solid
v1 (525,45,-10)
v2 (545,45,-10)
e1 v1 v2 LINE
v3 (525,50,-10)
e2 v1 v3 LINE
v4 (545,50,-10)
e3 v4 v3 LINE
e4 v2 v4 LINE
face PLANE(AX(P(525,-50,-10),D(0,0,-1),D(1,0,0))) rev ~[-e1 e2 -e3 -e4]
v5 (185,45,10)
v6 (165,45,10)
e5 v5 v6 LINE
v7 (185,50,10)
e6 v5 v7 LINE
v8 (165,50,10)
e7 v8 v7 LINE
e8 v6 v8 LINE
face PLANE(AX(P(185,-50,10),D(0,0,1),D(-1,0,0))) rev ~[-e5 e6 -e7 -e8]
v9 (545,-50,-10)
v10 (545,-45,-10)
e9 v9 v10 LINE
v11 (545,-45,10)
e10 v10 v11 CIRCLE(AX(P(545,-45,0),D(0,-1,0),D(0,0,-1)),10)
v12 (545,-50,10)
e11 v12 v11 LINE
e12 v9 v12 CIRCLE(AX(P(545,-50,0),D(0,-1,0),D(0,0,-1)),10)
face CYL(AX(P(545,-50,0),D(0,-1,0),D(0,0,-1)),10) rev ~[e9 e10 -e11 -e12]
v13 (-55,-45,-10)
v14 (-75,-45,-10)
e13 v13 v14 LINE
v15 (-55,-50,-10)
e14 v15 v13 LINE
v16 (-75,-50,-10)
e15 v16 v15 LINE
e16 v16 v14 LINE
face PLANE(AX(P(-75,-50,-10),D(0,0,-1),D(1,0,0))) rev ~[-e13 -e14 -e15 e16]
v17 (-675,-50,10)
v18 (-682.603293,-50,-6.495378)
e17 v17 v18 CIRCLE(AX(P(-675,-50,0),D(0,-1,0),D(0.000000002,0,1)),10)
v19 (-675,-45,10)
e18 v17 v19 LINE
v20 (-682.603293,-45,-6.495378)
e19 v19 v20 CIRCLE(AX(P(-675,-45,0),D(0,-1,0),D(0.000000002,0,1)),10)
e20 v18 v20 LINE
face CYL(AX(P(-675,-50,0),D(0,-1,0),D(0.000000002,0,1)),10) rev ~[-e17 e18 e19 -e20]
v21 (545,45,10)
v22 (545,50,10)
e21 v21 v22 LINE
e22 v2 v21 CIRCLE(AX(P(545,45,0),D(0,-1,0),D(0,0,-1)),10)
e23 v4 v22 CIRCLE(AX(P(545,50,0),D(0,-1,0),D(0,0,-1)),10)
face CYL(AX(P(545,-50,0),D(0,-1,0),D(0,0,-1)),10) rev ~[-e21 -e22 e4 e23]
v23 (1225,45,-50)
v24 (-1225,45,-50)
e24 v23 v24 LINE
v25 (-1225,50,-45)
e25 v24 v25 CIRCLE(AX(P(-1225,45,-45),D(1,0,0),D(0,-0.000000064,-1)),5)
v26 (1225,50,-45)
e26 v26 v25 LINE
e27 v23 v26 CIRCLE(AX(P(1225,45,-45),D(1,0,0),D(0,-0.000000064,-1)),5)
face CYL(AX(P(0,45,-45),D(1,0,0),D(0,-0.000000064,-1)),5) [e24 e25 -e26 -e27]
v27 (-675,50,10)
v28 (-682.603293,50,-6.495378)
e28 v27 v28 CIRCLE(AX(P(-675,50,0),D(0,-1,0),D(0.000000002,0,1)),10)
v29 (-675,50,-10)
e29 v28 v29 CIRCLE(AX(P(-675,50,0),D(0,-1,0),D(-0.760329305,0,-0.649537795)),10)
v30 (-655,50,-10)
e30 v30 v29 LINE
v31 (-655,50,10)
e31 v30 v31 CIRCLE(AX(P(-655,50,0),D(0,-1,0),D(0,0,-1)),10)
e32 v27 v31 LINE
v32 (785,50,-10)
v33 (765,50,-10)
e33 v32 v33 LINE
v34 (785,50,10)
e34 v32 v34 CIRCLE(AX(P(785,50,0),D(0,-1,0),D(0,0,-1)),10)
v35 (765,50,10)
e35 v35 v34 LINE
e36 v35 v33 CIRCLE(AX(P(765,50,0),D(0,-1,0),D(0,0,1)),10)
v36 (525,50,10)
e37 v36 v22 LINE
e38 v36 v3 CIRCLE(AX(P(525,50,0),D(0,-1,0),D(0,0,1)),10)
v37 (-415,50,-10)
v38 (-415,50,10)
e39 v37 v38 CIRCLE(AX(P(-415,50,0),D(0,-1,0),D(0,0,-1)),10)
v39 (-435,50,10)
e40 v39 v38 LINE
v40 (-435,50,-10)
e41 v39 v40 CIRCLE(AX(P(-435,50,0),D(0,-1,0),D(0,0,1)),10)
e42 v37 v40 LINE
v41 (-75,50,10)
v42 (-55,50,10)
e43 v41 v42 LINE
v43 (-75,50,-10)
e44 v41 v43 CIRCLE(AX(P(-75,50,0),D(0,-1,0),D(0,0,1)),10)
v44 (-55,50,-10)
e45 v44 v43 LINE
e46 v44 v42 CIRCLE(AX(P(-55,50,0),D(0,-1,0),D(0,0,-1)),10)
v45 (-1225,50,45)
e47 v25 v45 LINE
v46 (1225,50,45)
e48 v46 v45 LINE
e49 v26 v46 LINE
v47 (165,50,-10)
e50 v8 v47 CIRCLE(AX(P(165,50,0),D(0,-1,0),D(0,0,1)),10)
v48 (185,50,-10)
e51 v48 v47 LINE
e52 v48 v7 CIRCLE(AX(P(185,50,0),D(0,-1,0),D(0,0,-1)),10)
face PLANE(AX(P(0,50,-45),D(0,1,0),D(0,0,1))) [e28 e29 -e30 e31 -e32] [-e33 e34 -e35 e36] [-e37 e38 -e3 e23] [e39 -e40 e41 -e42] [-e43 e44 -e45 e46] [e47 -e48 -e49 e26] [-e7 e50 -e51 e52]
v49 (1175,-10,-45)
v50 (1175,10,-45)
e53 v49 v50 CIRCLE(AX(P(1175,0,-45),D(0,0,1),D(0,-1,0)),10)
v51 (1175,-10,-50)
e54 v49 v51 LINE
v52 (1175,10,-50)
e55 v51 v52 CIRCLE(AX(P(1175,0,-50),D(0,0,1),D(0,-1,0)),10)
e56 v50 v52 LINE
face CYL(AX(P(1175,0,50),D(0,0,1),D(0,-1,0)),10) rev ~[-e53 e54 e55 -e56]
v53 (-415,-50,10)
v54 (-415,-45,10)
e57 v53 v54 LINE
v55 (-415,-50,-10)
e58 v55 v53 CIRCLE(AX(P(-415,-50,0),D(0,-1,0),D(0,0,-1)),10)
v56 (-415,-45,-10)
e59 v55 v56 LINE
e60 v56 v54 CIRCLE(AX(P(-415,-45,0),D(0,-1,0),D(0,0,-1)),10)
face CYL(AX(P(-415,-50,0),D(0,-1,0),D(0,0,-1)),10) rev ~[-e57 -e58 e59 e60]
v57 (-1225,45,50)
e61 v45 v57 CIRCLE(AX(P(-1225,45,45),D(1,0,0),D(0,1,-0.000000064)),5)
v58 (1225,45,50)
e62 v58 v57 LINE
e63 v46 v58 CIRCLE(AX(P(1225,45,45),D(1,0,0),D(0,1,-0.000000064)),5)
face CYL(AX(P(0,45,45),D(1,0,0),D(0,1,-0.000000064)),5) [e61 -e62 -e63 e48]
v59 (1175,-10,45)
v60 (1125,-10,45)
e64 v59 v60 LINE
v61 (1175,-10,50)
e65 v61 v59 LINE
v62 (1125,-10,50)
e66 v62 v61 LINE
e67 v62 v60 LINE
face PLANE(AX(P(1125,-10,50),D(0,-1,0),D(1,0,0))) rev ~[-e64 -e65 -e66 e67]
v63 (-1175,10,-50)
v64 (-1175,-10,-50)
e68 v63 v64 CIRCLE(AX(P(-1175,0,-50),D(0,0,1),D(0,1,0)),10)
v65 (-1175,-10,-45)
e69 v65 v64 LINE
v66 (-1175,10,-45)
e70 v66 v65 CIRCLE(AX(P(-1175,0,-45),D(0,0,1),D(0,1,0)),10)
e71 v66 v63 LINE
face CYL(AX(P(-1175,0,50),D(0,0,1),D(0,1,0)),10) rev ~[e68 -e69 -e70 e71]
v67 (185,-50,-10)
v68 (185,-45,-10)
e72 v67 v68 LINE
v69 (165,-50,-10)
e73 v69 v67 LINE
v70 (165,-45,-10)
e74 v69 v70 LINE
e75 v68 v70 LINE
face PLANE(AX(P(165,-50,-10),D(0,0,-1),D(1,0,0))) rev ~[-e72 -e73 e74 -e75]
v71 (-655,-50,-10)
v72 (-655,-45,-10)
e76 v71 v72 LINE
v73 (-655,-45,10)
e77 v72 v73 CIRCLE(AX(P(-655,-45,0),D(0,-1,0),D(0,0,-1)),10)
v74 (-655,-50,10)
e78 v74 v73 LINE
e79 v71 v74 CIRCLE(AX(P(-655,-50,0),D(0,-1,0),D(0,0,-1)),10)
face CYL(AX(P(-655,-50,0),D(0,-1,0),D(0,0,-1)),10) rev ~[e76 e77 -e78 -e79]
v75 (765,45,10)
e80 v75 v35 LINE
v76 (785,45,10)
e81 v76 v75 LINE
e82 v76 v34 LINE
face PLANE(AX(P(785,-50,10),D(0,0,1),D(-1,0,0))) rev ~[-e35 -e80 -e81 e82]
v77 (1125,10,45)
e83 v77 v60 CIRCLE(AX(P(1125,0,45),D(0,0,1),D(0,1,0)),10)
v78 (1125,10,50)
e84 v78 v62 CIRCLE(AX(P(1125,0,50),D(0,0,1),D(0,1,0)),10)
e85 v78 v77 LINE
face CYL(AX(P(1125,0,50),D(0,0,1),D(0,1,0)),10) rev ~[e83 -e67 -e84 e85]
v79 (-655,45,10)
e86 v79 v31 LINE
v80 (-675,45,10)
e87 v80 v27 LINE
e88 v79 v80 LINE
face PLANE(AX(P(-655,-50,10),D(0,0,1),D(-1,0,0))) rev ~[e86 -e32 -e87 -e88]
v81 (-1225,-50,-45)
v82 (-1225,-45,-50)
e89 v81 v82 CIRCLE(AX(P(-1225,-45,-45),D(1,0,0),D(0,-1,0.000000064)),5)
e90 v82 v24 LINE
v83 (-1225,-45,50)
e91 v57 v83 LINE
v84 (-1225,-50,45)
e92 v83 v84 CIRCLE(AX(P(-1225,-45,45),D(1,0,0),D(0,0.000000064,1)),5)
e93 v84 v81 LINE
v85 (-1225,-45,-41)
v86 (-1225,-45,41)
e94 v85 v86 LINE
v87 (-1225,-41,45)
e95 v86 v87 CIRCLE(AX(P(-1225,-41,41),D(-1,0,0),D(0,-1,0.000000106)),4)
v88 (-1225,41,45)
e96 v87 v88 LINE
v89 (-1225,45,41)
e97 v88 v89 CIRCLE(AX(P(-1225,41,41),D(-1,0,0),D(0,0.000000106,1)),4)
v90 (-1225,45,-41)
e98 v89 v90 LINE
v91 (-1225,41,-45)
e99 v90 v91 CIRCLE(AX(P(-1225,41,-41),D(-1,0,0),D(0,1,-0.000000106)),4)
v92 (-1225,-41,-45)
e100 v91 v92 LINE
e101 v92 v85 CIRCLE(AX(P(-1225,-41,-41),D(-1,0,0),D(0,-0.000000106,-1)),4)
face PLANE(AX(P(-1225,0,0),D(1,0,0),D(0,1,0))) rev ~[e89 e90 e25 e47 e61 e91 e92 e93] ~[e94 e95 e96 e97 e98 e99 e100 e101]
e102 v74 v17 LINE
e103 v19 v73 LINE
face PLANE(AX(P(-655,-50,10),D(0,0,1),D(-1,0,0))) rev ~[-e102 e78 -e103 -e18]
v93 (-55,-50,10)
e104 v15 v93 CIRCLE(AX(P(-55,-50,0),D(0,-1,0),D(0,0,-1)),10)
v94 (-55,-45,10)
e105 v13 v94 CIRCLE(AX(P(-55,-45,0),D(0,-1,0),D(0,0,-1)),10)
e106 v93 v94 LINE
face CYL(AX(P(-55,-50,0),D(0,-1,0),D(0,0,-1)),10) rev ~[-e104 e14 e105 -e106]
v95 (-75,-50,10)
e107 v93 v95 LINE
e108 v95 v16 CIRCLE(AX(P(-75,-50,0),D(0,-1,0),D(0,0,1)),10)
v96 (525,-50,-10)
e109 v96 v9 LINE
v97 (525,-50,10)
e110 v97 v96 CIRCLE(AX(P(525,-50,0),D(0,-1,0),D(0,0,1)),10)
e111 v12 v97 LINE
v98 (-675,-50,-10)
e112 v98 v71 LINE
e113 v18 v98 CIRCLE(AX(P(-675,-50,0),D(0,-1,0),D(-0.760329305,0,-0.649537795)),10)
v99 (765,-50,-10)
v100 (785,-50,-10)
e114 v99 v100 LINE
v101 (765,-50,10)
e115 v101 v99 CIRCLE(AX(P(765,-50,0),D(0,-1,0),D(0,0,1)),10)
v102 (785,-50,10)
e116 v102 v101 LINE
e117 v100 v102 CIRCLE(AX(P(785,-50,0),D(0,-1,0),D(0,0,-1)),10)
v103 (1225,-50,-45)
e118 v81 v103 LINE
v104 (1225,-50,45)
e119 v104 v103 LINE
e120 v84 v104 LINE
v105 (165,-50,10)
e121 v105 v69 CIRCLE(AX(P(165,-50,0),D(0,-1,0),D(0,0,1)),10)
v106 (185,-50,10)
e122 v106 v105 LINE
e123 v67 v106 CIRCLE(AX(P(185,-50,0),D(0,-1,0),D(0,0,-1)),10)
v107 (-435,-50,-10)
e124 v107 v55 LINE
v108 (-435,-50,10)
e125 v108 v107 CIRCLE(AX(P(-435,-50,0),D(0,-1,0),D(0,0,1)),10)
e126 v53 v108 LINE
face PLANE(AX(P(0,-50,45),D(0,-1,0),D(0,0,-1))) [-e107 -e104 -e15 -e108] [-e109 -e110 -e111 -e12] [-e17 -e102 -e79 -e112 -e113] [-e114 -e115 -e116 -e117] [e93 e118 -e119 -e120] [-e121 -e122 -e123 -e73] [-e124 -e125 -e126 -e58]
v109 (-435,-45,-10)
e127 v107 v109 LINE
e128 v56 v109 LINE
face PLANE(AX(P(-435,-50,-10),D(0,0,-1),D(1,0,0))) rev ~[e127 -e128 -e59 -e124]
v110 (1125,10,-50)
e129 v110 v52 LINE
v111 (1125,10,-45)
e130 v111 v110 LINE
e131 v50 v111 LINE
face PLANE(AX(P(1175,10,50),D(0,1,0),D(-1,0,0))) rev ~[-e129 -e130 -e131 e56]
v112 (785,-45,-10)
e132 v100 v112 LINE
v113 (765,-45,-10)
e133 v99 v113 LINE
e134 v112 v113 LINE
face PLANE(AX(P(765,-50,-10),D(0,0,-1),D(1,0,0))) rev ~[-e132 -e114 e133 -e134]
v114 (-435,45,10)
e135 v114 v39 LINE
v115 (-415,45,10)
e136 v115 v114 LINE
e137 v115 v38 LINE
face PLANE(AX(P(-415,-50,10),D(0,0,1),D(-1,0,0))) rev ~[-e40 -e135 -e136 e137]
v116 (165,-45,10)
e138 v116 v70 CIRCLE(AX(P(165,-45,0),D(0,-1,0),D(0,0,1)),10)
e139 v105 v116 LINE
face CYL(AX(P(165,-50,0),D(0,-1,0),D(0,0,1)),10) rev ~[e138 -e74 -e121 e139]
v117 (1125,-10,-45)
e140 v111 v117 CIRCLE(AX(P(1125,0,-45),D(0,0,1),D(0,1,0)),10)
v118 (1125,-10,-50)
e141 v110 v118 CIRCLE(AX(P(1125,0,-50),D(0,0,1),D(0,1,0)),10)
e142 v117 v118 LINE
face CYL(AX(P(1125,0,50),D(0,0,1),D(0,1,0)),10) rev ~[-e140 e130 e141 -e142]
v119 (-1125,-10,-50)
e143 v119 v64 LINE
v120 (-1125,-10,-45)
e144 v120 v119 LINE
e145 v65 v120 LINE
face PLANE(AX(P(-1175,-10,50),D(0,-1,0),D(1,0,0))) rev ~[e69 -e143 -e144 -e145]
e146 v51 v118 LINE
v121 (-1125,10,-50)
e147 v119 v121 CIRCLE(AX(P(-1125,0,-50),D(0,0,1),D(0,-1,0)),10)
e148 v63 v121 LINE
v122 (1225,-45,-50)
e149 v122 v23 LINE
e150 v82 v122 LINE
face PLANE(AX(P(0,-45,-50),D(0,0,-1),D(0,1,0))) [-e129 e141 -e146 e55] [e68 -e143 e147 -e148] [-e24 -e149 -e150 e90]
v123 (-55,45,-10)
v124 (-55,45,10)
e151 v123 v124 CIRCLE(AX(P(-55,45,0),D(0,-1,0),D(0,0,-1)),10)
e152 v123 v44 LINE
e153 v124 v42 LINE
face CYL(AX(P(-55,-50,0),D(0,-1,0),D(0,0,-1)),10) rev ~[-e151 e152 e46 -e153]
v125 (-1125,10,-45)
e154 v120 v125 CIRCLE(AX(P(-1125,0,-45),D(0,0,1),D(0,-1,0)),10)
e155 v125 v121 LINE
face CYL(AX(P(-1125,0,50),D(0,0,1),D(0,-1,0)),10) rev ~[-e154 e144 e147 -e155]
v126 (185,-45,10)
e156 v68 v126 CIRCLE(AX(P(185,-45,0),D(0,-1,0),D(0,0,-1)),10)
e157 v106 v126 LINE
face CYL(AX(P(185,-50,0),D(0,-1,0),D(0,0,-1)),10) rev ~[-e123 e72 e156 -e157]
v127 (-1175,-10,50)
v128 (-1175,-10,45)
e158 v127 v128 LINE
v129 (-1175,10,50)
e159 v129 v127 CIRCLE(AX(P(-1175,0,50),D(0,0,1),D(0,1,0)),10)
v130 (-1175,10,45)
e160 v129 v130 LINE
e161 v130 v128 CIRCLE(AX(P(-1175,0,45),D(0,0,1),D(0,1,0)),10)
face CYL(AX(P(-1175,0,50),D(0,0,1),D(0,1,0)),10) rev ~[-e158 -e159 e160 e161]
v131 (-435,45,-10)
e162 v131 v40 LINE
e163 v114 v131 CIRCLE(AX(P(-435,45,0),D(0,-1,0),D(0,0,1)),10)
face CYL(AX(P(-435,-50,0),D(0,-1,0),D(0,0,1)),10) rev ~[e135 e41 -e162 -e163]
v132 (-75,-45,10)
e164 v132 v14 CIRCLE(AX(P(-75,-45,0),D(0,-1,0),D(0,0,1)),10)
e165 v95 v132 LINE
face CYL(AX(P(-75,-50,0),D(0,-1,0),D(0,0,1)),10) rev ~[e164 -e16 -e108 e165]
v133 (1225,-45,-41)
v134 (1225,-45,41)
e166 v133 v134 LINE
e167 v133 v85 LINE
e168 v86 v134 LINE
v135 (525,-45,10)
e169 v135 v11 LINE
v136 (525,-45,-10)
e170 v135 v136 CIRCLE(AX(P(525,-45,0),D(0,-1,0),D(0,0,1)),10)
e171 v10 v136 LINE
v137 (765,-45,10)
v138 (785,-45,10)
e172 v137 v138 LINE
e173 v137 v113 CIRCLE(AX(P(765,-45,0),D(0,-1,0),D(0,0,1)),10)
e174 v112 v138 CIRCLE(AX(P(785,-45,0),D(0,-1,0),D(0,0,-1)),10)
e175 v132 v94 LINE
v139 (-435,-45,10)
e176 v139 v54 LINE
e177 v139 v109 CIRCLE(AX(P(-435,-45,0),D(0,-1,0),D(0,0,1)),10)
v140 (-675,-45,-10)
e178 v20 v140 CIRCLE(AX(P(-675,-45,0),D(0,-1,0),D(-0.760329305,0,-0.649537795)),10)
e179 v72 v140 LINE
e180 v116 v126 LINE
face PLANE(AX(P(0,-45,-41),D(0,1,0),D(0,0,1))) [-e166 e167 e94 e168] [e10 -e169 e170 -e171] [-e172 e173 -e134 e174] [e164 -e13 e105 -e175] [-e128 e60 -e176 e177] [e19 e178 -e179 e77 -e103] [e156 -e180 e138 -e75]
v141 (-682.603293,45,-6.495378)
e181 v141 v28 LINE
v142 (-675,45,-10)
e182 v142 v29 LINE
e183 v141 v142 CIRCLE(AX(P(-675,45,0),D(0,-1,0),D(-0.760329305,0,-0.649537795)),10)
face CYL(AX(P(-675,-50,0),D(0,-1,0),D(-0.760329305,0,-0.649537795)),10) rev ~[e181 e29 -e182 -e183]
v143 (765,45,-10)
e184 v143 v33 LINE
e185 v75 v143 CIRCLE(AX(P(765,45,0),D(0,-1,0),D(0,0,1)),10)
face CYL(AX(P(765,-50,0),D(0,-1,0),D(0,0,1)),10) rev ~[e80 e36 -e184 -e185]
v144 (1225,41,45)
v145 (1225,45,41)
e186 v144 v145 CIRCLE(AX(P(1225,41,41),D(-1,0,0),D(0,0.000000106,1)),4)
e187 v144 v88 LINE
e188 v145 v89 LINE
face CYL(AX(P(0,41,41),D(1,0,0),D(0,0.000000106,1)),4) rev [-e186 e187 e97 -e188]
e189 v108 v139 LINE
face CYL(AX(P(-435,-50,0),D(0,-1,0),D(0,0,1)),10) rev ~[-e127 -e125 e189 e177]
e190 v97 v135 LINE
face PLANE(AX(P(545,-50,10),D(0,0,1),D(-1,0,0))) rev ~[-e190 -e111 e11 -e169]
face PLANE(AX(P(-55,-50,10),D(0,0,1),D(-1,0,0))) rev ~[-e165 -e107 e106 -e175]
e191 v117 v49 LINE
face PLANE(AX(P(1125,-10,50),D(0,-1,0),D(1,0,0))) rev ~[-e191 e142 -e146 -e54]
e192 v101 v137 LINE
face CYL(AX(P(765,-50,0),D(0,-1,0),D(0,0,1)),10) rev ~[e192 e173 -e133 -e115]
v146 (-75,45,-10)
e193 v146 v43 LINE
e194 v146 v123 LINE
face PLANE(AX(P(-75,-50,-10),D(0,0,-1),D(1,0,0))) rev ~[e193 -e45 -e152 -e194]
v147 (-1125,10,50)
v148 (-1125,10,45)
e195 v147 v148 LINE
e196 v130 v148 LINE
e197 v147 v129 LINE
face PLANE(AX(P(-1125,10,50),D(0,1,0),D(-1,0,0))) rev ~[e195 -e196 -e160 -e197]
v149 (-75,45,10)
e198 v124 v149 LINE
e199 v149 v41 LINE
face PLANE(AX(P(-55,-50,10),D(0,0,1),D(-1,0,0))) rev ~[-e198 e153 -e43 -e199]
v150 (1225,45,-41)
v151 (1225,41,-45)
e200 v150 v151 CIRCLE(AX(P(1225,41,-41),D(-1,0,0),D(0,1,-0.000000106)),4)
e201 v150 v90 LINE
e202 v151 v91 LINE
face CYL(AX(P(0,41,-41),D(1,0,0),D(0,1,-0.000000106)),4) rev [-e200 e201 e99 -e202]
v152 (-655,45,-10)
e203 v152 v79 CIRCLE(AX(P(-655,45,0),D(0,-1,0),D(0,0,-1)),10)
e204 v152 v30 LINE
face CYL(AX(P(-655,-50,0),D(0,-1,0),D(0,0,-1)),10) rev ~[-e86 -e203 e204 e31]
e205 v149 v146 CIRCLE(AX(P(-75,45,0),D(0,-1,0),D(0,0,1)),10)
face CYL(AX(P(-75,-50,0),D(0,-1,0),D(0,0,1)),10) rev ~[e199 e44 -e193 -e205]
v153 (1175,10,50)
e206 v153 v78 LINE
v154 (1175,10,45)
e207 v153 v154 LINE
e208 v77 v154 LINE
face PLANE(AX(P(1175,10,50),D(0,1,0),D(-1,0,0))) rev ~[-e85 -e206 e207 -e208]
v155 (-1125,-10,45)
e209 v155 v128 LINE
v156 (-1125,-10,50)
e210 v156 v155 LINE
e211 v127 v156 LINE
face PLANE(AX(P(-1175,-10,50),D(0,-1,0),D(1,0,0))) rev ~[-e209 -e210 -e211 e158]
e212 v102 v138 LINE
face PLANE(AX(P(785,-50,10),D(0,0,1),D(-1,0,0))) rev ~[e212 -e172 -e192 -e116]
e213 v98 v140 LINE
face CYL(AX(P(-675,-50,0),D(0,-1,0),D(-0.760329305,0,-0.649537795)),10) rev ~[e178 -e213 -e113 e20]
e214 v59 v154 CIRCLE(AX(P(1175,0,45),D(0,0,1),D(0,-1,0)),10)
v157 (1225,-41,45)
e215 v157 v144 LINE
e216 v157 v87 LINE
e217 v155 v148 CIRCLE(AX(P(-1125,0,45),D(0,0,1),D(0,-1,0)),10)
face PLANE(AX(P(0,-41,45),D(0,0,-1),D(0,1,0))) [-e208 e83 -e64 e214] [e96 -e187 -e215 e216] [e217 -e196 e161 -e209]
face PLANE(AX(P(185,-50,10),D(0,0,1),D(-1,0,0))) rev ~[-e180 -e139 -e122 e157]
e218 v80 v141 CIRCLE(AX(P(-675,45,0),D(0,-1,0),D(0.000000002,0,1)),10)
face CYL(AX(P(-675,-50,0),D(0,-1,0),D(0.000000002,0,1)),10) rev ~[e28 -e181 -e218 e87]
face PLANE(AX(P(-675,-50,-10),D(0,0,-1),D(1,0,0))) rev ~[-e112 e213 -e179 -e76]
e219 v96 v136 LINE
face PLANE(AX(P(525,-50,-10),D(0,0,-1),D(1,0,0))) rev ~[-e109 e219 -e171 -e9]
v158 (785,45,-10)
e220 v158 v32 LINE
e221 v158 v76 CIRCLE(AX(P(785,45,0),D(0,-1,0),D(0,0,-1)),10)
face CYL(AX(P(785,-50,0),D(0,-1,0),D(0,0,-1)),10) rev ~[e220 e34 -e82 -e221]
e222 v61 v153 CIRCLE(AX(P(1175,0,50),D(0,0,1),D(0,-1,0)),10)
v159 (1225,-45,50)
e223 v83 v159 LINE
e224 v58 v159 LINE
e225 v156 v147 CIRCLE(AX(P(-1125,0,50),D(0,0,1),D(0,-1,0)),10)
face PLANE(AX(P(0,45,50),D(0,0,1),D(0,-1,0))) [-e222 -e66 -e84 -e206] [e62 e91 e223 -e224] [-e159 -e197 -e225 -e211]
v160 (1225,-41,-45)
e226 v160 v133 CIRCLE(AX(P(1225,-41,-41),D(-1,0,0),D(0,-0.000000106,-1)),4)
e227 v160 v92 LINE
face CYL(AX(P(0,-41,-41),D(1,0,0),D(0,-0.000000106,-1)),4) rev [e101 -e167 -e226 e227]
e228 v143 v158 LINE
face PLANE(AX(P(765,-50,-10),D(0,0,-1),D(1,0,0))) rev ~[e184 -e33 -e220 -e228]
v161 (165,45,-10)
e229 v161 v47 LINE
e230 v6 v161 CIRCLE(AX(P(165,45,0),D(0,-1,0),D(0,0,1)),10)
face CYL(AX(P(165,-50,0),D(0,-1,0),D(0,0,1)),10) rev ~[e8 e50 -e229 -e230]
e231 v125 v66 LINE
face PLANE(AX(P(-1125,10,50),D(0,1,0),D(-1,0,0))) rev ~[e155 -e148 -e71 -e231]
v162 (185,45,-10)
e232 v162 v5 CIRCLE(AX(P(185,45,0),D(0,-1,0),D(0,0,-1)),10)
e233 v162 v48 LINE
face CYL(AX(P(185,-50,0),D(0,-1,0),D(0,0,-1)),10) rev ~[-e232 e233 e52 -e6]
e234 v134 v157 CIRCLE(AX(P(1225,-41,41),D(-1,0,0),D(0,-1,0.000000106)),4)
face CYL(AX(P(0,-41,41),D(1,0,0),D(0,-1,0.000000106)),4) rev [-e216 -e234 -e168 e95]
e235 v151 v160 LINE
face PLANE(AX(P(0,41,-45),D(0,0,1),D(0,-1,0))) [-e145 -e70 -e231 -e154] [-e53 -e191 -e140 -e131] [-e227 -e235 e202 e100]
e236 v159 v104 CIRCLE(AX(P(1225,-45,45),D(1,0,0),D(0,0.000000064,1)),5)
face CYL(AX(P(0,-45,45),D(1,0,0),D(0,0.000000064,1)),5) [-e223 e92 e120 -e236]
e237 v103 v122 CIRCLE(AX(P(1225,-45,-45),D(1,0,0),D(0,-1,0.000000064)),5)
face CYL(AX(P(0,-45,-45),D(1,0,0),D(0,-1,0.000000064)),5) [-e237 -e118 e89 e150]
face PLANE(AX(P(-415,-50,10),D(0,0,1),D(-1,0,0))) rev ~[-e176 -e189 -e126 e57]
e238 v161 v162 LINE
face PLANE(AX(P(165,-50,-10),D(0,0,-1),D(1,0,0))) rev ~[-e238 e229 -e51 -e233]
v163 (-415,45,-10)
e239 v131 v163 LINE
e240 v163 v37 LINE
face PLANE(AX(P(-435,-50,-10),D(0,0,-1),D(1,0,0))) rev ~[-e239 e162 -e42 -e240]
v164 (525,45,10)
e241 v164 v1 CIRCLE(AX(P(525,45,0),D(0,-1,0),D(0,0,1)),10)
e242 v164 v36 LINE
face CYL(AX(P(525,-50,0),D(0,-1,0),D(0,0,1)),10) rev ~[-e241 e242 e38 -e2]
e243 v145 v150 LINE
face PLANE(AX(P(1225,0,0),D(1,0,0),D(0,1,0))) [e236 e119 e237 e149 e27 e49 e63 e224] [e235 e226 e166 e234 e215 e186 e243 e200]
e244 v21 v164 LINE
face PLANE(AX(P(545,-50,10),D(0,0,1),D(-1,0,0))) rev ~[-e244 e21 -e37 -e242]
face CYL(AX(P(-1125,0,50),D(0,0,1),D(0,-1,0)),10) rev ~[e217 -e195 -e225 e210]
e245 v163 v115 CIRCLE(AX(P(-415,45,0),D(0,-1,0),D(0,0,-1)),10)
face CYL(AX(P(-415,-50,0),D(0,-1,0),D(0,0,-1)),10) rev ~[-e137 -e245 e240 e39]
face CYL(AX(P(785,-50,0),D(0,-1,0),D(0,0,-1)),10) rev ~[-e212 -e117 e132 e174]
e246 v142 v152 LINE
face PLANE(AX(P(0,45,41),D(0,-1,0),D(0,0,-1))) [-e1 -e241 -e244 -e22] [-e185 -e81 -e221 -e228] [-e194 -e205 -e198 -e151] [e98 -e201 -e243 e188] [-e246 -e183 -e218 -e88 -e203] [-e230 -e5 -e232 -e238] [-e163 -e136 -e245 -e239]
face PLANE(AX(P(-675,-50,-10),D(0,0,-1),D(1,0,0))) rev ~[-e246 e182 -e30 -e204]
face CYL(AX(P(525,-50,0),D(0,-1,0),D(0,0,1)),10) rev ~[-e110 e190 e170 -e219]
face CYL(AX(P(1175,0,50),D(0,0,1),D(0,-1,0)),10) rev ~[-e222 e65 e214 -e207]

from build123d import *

# Parameters (mm, degrees)
F1_DEPTH = 1225
F3_DEPTH = 100.001
F5_DEPTH = 100.001


with BuildPart() as f1:
    # F0 (on Right) → F1 (new body, symmetric)
    with BuildSketch(Plane.YZ):
        with BuildLine():
            Line((45, 50), (-45, 50))
            ThreePointArc((-45, 50), (-48.535534, 48.535534), (-50, 45))
            Line((-50, 45), (-50, -45))
            ThreePointArc((-50, -45), (-48.535534, -48.535534), (-45, -50))
            Line((-45, -50), (45, -50))
            ThreePointArc((45, -50), (48.535534, -48.535534), (50, -45))
            Line((50, -45), (50, 45))
            ThreePointArc((50, 45), (48.535534, 48.535534), (45, 50))
        make_face()
        with BuildLine():
            ThreePointArc((-45, 41), (-43.828427, 43.828427), (-41, 45))
            Line((-41, 45), (41, 45))
            ThreePointArc((41, 45), (43.828427, 43.828427), (45, 41))
            Line((45, 41), (45, -41))
            ThreePointArc((45, -41), (43.828427, -43.828427), (41, -45))
            Line((41, -45), (-41, -45))
            ThreePointArc((-41, -45), (-43.828427, -43.828427), (-45, -41))
            Line((-45, -41), (-45, 41))
        make_face(mode=Mode.SUBTRACT)
    extrude(amount=F1_DEPTH, both=True)

    # F2 (on face) → F3 (cut, through all)
    with BuildSketch(Plane.XZ.offset(50)):
        with BuildLine():
            ThreePointArc((-675, 10), (-684.081679, 4.186061), (-682.603293, -6.495378))
            ThreePointArc((-682.603293, -6.495378), (-679.186061, -9.081679), (-675, -10))
            Line((-675, -10), (-655, -10))
            ThreePointArc((-655, -10), (-645, 0), (-655, 10))
            Line((-655, 10), (-675, 10))
        make_face()
        with BuildLine():
            Line((-415, 10), (-435, 10))
            ThreePointArc((-435, 10), (-445, 0), (-435, -10))
            Line((-435, -10), (-415, -10))
            ThreePointArc((-415, -10), (-405, 0), (-415, 10))
        make_face()
        with BuildLine():
            Line((-55, 10), (-75, 10))
            ThreePointArc((-75, 10), (-85, 0), (-75, -10))
            Line((-75, -10), (-55, -10))
            ThreePointArc((-55, -10), (-45, 0), (-55, 10))
        make_face()
        with BuildLine():
            Line((165, -10), (185, -10))
            ThreePointArc((185, -10), (195, 0), (185, 10))
            Line((185, 10), (165, 10))
            ThreePointArc((165, 10), (155, 0), (165, -10))
        make_face()
        with BuildLine():
            Line((545, 10), (525, 10))
            ThreePointArc((525, 10), (515, 0), (525, -10))
            Line((525, -10), (545, -10))
            ThreePointArc((545, -10), (555, 0), (545, 10))
        make_face()
        with BuildLine():
            Line((785, 10), (765, 10))
            ThreePointArc((765, 10), (755, 0), (765, -10))
            Line((765, -10), (785, -10))
            ThreePointArc((785, -10), (795, 0), (785, 10))
        make_face()
    extrude(amount=-F3_DEPTH, mode=Mode.SUBTRACT)

    # F4 (on face) → F5 (cut, through all)
    with BuildSketch(Plane.XY.offset(50)):
        with BuildLine():
            Line((-1125, 10), (-1175, 10))
            ThreePointArc((-1175, 10), (-1185, 0), (-1175, -10))
            Line((-1175, -10), (-1125, -10))
            ThreePointArc((-1125, -10), (-1115, 0), (-1125, 10))
        make_face()
        with BuildLine():
            ThreePointArc((1175, -10), (1185, 0), (1175, 10))
            Line((1175, 10), (1125, 10))
            ThreePointArc((1125, 10), (1115, 0), (1125, -10))
            Line((1125, -10), (1175, -10))
        make_face()
    extrude(amount=-F5_DEPTH, mode=Mode.SUBTRACT)


solid = f1.part
